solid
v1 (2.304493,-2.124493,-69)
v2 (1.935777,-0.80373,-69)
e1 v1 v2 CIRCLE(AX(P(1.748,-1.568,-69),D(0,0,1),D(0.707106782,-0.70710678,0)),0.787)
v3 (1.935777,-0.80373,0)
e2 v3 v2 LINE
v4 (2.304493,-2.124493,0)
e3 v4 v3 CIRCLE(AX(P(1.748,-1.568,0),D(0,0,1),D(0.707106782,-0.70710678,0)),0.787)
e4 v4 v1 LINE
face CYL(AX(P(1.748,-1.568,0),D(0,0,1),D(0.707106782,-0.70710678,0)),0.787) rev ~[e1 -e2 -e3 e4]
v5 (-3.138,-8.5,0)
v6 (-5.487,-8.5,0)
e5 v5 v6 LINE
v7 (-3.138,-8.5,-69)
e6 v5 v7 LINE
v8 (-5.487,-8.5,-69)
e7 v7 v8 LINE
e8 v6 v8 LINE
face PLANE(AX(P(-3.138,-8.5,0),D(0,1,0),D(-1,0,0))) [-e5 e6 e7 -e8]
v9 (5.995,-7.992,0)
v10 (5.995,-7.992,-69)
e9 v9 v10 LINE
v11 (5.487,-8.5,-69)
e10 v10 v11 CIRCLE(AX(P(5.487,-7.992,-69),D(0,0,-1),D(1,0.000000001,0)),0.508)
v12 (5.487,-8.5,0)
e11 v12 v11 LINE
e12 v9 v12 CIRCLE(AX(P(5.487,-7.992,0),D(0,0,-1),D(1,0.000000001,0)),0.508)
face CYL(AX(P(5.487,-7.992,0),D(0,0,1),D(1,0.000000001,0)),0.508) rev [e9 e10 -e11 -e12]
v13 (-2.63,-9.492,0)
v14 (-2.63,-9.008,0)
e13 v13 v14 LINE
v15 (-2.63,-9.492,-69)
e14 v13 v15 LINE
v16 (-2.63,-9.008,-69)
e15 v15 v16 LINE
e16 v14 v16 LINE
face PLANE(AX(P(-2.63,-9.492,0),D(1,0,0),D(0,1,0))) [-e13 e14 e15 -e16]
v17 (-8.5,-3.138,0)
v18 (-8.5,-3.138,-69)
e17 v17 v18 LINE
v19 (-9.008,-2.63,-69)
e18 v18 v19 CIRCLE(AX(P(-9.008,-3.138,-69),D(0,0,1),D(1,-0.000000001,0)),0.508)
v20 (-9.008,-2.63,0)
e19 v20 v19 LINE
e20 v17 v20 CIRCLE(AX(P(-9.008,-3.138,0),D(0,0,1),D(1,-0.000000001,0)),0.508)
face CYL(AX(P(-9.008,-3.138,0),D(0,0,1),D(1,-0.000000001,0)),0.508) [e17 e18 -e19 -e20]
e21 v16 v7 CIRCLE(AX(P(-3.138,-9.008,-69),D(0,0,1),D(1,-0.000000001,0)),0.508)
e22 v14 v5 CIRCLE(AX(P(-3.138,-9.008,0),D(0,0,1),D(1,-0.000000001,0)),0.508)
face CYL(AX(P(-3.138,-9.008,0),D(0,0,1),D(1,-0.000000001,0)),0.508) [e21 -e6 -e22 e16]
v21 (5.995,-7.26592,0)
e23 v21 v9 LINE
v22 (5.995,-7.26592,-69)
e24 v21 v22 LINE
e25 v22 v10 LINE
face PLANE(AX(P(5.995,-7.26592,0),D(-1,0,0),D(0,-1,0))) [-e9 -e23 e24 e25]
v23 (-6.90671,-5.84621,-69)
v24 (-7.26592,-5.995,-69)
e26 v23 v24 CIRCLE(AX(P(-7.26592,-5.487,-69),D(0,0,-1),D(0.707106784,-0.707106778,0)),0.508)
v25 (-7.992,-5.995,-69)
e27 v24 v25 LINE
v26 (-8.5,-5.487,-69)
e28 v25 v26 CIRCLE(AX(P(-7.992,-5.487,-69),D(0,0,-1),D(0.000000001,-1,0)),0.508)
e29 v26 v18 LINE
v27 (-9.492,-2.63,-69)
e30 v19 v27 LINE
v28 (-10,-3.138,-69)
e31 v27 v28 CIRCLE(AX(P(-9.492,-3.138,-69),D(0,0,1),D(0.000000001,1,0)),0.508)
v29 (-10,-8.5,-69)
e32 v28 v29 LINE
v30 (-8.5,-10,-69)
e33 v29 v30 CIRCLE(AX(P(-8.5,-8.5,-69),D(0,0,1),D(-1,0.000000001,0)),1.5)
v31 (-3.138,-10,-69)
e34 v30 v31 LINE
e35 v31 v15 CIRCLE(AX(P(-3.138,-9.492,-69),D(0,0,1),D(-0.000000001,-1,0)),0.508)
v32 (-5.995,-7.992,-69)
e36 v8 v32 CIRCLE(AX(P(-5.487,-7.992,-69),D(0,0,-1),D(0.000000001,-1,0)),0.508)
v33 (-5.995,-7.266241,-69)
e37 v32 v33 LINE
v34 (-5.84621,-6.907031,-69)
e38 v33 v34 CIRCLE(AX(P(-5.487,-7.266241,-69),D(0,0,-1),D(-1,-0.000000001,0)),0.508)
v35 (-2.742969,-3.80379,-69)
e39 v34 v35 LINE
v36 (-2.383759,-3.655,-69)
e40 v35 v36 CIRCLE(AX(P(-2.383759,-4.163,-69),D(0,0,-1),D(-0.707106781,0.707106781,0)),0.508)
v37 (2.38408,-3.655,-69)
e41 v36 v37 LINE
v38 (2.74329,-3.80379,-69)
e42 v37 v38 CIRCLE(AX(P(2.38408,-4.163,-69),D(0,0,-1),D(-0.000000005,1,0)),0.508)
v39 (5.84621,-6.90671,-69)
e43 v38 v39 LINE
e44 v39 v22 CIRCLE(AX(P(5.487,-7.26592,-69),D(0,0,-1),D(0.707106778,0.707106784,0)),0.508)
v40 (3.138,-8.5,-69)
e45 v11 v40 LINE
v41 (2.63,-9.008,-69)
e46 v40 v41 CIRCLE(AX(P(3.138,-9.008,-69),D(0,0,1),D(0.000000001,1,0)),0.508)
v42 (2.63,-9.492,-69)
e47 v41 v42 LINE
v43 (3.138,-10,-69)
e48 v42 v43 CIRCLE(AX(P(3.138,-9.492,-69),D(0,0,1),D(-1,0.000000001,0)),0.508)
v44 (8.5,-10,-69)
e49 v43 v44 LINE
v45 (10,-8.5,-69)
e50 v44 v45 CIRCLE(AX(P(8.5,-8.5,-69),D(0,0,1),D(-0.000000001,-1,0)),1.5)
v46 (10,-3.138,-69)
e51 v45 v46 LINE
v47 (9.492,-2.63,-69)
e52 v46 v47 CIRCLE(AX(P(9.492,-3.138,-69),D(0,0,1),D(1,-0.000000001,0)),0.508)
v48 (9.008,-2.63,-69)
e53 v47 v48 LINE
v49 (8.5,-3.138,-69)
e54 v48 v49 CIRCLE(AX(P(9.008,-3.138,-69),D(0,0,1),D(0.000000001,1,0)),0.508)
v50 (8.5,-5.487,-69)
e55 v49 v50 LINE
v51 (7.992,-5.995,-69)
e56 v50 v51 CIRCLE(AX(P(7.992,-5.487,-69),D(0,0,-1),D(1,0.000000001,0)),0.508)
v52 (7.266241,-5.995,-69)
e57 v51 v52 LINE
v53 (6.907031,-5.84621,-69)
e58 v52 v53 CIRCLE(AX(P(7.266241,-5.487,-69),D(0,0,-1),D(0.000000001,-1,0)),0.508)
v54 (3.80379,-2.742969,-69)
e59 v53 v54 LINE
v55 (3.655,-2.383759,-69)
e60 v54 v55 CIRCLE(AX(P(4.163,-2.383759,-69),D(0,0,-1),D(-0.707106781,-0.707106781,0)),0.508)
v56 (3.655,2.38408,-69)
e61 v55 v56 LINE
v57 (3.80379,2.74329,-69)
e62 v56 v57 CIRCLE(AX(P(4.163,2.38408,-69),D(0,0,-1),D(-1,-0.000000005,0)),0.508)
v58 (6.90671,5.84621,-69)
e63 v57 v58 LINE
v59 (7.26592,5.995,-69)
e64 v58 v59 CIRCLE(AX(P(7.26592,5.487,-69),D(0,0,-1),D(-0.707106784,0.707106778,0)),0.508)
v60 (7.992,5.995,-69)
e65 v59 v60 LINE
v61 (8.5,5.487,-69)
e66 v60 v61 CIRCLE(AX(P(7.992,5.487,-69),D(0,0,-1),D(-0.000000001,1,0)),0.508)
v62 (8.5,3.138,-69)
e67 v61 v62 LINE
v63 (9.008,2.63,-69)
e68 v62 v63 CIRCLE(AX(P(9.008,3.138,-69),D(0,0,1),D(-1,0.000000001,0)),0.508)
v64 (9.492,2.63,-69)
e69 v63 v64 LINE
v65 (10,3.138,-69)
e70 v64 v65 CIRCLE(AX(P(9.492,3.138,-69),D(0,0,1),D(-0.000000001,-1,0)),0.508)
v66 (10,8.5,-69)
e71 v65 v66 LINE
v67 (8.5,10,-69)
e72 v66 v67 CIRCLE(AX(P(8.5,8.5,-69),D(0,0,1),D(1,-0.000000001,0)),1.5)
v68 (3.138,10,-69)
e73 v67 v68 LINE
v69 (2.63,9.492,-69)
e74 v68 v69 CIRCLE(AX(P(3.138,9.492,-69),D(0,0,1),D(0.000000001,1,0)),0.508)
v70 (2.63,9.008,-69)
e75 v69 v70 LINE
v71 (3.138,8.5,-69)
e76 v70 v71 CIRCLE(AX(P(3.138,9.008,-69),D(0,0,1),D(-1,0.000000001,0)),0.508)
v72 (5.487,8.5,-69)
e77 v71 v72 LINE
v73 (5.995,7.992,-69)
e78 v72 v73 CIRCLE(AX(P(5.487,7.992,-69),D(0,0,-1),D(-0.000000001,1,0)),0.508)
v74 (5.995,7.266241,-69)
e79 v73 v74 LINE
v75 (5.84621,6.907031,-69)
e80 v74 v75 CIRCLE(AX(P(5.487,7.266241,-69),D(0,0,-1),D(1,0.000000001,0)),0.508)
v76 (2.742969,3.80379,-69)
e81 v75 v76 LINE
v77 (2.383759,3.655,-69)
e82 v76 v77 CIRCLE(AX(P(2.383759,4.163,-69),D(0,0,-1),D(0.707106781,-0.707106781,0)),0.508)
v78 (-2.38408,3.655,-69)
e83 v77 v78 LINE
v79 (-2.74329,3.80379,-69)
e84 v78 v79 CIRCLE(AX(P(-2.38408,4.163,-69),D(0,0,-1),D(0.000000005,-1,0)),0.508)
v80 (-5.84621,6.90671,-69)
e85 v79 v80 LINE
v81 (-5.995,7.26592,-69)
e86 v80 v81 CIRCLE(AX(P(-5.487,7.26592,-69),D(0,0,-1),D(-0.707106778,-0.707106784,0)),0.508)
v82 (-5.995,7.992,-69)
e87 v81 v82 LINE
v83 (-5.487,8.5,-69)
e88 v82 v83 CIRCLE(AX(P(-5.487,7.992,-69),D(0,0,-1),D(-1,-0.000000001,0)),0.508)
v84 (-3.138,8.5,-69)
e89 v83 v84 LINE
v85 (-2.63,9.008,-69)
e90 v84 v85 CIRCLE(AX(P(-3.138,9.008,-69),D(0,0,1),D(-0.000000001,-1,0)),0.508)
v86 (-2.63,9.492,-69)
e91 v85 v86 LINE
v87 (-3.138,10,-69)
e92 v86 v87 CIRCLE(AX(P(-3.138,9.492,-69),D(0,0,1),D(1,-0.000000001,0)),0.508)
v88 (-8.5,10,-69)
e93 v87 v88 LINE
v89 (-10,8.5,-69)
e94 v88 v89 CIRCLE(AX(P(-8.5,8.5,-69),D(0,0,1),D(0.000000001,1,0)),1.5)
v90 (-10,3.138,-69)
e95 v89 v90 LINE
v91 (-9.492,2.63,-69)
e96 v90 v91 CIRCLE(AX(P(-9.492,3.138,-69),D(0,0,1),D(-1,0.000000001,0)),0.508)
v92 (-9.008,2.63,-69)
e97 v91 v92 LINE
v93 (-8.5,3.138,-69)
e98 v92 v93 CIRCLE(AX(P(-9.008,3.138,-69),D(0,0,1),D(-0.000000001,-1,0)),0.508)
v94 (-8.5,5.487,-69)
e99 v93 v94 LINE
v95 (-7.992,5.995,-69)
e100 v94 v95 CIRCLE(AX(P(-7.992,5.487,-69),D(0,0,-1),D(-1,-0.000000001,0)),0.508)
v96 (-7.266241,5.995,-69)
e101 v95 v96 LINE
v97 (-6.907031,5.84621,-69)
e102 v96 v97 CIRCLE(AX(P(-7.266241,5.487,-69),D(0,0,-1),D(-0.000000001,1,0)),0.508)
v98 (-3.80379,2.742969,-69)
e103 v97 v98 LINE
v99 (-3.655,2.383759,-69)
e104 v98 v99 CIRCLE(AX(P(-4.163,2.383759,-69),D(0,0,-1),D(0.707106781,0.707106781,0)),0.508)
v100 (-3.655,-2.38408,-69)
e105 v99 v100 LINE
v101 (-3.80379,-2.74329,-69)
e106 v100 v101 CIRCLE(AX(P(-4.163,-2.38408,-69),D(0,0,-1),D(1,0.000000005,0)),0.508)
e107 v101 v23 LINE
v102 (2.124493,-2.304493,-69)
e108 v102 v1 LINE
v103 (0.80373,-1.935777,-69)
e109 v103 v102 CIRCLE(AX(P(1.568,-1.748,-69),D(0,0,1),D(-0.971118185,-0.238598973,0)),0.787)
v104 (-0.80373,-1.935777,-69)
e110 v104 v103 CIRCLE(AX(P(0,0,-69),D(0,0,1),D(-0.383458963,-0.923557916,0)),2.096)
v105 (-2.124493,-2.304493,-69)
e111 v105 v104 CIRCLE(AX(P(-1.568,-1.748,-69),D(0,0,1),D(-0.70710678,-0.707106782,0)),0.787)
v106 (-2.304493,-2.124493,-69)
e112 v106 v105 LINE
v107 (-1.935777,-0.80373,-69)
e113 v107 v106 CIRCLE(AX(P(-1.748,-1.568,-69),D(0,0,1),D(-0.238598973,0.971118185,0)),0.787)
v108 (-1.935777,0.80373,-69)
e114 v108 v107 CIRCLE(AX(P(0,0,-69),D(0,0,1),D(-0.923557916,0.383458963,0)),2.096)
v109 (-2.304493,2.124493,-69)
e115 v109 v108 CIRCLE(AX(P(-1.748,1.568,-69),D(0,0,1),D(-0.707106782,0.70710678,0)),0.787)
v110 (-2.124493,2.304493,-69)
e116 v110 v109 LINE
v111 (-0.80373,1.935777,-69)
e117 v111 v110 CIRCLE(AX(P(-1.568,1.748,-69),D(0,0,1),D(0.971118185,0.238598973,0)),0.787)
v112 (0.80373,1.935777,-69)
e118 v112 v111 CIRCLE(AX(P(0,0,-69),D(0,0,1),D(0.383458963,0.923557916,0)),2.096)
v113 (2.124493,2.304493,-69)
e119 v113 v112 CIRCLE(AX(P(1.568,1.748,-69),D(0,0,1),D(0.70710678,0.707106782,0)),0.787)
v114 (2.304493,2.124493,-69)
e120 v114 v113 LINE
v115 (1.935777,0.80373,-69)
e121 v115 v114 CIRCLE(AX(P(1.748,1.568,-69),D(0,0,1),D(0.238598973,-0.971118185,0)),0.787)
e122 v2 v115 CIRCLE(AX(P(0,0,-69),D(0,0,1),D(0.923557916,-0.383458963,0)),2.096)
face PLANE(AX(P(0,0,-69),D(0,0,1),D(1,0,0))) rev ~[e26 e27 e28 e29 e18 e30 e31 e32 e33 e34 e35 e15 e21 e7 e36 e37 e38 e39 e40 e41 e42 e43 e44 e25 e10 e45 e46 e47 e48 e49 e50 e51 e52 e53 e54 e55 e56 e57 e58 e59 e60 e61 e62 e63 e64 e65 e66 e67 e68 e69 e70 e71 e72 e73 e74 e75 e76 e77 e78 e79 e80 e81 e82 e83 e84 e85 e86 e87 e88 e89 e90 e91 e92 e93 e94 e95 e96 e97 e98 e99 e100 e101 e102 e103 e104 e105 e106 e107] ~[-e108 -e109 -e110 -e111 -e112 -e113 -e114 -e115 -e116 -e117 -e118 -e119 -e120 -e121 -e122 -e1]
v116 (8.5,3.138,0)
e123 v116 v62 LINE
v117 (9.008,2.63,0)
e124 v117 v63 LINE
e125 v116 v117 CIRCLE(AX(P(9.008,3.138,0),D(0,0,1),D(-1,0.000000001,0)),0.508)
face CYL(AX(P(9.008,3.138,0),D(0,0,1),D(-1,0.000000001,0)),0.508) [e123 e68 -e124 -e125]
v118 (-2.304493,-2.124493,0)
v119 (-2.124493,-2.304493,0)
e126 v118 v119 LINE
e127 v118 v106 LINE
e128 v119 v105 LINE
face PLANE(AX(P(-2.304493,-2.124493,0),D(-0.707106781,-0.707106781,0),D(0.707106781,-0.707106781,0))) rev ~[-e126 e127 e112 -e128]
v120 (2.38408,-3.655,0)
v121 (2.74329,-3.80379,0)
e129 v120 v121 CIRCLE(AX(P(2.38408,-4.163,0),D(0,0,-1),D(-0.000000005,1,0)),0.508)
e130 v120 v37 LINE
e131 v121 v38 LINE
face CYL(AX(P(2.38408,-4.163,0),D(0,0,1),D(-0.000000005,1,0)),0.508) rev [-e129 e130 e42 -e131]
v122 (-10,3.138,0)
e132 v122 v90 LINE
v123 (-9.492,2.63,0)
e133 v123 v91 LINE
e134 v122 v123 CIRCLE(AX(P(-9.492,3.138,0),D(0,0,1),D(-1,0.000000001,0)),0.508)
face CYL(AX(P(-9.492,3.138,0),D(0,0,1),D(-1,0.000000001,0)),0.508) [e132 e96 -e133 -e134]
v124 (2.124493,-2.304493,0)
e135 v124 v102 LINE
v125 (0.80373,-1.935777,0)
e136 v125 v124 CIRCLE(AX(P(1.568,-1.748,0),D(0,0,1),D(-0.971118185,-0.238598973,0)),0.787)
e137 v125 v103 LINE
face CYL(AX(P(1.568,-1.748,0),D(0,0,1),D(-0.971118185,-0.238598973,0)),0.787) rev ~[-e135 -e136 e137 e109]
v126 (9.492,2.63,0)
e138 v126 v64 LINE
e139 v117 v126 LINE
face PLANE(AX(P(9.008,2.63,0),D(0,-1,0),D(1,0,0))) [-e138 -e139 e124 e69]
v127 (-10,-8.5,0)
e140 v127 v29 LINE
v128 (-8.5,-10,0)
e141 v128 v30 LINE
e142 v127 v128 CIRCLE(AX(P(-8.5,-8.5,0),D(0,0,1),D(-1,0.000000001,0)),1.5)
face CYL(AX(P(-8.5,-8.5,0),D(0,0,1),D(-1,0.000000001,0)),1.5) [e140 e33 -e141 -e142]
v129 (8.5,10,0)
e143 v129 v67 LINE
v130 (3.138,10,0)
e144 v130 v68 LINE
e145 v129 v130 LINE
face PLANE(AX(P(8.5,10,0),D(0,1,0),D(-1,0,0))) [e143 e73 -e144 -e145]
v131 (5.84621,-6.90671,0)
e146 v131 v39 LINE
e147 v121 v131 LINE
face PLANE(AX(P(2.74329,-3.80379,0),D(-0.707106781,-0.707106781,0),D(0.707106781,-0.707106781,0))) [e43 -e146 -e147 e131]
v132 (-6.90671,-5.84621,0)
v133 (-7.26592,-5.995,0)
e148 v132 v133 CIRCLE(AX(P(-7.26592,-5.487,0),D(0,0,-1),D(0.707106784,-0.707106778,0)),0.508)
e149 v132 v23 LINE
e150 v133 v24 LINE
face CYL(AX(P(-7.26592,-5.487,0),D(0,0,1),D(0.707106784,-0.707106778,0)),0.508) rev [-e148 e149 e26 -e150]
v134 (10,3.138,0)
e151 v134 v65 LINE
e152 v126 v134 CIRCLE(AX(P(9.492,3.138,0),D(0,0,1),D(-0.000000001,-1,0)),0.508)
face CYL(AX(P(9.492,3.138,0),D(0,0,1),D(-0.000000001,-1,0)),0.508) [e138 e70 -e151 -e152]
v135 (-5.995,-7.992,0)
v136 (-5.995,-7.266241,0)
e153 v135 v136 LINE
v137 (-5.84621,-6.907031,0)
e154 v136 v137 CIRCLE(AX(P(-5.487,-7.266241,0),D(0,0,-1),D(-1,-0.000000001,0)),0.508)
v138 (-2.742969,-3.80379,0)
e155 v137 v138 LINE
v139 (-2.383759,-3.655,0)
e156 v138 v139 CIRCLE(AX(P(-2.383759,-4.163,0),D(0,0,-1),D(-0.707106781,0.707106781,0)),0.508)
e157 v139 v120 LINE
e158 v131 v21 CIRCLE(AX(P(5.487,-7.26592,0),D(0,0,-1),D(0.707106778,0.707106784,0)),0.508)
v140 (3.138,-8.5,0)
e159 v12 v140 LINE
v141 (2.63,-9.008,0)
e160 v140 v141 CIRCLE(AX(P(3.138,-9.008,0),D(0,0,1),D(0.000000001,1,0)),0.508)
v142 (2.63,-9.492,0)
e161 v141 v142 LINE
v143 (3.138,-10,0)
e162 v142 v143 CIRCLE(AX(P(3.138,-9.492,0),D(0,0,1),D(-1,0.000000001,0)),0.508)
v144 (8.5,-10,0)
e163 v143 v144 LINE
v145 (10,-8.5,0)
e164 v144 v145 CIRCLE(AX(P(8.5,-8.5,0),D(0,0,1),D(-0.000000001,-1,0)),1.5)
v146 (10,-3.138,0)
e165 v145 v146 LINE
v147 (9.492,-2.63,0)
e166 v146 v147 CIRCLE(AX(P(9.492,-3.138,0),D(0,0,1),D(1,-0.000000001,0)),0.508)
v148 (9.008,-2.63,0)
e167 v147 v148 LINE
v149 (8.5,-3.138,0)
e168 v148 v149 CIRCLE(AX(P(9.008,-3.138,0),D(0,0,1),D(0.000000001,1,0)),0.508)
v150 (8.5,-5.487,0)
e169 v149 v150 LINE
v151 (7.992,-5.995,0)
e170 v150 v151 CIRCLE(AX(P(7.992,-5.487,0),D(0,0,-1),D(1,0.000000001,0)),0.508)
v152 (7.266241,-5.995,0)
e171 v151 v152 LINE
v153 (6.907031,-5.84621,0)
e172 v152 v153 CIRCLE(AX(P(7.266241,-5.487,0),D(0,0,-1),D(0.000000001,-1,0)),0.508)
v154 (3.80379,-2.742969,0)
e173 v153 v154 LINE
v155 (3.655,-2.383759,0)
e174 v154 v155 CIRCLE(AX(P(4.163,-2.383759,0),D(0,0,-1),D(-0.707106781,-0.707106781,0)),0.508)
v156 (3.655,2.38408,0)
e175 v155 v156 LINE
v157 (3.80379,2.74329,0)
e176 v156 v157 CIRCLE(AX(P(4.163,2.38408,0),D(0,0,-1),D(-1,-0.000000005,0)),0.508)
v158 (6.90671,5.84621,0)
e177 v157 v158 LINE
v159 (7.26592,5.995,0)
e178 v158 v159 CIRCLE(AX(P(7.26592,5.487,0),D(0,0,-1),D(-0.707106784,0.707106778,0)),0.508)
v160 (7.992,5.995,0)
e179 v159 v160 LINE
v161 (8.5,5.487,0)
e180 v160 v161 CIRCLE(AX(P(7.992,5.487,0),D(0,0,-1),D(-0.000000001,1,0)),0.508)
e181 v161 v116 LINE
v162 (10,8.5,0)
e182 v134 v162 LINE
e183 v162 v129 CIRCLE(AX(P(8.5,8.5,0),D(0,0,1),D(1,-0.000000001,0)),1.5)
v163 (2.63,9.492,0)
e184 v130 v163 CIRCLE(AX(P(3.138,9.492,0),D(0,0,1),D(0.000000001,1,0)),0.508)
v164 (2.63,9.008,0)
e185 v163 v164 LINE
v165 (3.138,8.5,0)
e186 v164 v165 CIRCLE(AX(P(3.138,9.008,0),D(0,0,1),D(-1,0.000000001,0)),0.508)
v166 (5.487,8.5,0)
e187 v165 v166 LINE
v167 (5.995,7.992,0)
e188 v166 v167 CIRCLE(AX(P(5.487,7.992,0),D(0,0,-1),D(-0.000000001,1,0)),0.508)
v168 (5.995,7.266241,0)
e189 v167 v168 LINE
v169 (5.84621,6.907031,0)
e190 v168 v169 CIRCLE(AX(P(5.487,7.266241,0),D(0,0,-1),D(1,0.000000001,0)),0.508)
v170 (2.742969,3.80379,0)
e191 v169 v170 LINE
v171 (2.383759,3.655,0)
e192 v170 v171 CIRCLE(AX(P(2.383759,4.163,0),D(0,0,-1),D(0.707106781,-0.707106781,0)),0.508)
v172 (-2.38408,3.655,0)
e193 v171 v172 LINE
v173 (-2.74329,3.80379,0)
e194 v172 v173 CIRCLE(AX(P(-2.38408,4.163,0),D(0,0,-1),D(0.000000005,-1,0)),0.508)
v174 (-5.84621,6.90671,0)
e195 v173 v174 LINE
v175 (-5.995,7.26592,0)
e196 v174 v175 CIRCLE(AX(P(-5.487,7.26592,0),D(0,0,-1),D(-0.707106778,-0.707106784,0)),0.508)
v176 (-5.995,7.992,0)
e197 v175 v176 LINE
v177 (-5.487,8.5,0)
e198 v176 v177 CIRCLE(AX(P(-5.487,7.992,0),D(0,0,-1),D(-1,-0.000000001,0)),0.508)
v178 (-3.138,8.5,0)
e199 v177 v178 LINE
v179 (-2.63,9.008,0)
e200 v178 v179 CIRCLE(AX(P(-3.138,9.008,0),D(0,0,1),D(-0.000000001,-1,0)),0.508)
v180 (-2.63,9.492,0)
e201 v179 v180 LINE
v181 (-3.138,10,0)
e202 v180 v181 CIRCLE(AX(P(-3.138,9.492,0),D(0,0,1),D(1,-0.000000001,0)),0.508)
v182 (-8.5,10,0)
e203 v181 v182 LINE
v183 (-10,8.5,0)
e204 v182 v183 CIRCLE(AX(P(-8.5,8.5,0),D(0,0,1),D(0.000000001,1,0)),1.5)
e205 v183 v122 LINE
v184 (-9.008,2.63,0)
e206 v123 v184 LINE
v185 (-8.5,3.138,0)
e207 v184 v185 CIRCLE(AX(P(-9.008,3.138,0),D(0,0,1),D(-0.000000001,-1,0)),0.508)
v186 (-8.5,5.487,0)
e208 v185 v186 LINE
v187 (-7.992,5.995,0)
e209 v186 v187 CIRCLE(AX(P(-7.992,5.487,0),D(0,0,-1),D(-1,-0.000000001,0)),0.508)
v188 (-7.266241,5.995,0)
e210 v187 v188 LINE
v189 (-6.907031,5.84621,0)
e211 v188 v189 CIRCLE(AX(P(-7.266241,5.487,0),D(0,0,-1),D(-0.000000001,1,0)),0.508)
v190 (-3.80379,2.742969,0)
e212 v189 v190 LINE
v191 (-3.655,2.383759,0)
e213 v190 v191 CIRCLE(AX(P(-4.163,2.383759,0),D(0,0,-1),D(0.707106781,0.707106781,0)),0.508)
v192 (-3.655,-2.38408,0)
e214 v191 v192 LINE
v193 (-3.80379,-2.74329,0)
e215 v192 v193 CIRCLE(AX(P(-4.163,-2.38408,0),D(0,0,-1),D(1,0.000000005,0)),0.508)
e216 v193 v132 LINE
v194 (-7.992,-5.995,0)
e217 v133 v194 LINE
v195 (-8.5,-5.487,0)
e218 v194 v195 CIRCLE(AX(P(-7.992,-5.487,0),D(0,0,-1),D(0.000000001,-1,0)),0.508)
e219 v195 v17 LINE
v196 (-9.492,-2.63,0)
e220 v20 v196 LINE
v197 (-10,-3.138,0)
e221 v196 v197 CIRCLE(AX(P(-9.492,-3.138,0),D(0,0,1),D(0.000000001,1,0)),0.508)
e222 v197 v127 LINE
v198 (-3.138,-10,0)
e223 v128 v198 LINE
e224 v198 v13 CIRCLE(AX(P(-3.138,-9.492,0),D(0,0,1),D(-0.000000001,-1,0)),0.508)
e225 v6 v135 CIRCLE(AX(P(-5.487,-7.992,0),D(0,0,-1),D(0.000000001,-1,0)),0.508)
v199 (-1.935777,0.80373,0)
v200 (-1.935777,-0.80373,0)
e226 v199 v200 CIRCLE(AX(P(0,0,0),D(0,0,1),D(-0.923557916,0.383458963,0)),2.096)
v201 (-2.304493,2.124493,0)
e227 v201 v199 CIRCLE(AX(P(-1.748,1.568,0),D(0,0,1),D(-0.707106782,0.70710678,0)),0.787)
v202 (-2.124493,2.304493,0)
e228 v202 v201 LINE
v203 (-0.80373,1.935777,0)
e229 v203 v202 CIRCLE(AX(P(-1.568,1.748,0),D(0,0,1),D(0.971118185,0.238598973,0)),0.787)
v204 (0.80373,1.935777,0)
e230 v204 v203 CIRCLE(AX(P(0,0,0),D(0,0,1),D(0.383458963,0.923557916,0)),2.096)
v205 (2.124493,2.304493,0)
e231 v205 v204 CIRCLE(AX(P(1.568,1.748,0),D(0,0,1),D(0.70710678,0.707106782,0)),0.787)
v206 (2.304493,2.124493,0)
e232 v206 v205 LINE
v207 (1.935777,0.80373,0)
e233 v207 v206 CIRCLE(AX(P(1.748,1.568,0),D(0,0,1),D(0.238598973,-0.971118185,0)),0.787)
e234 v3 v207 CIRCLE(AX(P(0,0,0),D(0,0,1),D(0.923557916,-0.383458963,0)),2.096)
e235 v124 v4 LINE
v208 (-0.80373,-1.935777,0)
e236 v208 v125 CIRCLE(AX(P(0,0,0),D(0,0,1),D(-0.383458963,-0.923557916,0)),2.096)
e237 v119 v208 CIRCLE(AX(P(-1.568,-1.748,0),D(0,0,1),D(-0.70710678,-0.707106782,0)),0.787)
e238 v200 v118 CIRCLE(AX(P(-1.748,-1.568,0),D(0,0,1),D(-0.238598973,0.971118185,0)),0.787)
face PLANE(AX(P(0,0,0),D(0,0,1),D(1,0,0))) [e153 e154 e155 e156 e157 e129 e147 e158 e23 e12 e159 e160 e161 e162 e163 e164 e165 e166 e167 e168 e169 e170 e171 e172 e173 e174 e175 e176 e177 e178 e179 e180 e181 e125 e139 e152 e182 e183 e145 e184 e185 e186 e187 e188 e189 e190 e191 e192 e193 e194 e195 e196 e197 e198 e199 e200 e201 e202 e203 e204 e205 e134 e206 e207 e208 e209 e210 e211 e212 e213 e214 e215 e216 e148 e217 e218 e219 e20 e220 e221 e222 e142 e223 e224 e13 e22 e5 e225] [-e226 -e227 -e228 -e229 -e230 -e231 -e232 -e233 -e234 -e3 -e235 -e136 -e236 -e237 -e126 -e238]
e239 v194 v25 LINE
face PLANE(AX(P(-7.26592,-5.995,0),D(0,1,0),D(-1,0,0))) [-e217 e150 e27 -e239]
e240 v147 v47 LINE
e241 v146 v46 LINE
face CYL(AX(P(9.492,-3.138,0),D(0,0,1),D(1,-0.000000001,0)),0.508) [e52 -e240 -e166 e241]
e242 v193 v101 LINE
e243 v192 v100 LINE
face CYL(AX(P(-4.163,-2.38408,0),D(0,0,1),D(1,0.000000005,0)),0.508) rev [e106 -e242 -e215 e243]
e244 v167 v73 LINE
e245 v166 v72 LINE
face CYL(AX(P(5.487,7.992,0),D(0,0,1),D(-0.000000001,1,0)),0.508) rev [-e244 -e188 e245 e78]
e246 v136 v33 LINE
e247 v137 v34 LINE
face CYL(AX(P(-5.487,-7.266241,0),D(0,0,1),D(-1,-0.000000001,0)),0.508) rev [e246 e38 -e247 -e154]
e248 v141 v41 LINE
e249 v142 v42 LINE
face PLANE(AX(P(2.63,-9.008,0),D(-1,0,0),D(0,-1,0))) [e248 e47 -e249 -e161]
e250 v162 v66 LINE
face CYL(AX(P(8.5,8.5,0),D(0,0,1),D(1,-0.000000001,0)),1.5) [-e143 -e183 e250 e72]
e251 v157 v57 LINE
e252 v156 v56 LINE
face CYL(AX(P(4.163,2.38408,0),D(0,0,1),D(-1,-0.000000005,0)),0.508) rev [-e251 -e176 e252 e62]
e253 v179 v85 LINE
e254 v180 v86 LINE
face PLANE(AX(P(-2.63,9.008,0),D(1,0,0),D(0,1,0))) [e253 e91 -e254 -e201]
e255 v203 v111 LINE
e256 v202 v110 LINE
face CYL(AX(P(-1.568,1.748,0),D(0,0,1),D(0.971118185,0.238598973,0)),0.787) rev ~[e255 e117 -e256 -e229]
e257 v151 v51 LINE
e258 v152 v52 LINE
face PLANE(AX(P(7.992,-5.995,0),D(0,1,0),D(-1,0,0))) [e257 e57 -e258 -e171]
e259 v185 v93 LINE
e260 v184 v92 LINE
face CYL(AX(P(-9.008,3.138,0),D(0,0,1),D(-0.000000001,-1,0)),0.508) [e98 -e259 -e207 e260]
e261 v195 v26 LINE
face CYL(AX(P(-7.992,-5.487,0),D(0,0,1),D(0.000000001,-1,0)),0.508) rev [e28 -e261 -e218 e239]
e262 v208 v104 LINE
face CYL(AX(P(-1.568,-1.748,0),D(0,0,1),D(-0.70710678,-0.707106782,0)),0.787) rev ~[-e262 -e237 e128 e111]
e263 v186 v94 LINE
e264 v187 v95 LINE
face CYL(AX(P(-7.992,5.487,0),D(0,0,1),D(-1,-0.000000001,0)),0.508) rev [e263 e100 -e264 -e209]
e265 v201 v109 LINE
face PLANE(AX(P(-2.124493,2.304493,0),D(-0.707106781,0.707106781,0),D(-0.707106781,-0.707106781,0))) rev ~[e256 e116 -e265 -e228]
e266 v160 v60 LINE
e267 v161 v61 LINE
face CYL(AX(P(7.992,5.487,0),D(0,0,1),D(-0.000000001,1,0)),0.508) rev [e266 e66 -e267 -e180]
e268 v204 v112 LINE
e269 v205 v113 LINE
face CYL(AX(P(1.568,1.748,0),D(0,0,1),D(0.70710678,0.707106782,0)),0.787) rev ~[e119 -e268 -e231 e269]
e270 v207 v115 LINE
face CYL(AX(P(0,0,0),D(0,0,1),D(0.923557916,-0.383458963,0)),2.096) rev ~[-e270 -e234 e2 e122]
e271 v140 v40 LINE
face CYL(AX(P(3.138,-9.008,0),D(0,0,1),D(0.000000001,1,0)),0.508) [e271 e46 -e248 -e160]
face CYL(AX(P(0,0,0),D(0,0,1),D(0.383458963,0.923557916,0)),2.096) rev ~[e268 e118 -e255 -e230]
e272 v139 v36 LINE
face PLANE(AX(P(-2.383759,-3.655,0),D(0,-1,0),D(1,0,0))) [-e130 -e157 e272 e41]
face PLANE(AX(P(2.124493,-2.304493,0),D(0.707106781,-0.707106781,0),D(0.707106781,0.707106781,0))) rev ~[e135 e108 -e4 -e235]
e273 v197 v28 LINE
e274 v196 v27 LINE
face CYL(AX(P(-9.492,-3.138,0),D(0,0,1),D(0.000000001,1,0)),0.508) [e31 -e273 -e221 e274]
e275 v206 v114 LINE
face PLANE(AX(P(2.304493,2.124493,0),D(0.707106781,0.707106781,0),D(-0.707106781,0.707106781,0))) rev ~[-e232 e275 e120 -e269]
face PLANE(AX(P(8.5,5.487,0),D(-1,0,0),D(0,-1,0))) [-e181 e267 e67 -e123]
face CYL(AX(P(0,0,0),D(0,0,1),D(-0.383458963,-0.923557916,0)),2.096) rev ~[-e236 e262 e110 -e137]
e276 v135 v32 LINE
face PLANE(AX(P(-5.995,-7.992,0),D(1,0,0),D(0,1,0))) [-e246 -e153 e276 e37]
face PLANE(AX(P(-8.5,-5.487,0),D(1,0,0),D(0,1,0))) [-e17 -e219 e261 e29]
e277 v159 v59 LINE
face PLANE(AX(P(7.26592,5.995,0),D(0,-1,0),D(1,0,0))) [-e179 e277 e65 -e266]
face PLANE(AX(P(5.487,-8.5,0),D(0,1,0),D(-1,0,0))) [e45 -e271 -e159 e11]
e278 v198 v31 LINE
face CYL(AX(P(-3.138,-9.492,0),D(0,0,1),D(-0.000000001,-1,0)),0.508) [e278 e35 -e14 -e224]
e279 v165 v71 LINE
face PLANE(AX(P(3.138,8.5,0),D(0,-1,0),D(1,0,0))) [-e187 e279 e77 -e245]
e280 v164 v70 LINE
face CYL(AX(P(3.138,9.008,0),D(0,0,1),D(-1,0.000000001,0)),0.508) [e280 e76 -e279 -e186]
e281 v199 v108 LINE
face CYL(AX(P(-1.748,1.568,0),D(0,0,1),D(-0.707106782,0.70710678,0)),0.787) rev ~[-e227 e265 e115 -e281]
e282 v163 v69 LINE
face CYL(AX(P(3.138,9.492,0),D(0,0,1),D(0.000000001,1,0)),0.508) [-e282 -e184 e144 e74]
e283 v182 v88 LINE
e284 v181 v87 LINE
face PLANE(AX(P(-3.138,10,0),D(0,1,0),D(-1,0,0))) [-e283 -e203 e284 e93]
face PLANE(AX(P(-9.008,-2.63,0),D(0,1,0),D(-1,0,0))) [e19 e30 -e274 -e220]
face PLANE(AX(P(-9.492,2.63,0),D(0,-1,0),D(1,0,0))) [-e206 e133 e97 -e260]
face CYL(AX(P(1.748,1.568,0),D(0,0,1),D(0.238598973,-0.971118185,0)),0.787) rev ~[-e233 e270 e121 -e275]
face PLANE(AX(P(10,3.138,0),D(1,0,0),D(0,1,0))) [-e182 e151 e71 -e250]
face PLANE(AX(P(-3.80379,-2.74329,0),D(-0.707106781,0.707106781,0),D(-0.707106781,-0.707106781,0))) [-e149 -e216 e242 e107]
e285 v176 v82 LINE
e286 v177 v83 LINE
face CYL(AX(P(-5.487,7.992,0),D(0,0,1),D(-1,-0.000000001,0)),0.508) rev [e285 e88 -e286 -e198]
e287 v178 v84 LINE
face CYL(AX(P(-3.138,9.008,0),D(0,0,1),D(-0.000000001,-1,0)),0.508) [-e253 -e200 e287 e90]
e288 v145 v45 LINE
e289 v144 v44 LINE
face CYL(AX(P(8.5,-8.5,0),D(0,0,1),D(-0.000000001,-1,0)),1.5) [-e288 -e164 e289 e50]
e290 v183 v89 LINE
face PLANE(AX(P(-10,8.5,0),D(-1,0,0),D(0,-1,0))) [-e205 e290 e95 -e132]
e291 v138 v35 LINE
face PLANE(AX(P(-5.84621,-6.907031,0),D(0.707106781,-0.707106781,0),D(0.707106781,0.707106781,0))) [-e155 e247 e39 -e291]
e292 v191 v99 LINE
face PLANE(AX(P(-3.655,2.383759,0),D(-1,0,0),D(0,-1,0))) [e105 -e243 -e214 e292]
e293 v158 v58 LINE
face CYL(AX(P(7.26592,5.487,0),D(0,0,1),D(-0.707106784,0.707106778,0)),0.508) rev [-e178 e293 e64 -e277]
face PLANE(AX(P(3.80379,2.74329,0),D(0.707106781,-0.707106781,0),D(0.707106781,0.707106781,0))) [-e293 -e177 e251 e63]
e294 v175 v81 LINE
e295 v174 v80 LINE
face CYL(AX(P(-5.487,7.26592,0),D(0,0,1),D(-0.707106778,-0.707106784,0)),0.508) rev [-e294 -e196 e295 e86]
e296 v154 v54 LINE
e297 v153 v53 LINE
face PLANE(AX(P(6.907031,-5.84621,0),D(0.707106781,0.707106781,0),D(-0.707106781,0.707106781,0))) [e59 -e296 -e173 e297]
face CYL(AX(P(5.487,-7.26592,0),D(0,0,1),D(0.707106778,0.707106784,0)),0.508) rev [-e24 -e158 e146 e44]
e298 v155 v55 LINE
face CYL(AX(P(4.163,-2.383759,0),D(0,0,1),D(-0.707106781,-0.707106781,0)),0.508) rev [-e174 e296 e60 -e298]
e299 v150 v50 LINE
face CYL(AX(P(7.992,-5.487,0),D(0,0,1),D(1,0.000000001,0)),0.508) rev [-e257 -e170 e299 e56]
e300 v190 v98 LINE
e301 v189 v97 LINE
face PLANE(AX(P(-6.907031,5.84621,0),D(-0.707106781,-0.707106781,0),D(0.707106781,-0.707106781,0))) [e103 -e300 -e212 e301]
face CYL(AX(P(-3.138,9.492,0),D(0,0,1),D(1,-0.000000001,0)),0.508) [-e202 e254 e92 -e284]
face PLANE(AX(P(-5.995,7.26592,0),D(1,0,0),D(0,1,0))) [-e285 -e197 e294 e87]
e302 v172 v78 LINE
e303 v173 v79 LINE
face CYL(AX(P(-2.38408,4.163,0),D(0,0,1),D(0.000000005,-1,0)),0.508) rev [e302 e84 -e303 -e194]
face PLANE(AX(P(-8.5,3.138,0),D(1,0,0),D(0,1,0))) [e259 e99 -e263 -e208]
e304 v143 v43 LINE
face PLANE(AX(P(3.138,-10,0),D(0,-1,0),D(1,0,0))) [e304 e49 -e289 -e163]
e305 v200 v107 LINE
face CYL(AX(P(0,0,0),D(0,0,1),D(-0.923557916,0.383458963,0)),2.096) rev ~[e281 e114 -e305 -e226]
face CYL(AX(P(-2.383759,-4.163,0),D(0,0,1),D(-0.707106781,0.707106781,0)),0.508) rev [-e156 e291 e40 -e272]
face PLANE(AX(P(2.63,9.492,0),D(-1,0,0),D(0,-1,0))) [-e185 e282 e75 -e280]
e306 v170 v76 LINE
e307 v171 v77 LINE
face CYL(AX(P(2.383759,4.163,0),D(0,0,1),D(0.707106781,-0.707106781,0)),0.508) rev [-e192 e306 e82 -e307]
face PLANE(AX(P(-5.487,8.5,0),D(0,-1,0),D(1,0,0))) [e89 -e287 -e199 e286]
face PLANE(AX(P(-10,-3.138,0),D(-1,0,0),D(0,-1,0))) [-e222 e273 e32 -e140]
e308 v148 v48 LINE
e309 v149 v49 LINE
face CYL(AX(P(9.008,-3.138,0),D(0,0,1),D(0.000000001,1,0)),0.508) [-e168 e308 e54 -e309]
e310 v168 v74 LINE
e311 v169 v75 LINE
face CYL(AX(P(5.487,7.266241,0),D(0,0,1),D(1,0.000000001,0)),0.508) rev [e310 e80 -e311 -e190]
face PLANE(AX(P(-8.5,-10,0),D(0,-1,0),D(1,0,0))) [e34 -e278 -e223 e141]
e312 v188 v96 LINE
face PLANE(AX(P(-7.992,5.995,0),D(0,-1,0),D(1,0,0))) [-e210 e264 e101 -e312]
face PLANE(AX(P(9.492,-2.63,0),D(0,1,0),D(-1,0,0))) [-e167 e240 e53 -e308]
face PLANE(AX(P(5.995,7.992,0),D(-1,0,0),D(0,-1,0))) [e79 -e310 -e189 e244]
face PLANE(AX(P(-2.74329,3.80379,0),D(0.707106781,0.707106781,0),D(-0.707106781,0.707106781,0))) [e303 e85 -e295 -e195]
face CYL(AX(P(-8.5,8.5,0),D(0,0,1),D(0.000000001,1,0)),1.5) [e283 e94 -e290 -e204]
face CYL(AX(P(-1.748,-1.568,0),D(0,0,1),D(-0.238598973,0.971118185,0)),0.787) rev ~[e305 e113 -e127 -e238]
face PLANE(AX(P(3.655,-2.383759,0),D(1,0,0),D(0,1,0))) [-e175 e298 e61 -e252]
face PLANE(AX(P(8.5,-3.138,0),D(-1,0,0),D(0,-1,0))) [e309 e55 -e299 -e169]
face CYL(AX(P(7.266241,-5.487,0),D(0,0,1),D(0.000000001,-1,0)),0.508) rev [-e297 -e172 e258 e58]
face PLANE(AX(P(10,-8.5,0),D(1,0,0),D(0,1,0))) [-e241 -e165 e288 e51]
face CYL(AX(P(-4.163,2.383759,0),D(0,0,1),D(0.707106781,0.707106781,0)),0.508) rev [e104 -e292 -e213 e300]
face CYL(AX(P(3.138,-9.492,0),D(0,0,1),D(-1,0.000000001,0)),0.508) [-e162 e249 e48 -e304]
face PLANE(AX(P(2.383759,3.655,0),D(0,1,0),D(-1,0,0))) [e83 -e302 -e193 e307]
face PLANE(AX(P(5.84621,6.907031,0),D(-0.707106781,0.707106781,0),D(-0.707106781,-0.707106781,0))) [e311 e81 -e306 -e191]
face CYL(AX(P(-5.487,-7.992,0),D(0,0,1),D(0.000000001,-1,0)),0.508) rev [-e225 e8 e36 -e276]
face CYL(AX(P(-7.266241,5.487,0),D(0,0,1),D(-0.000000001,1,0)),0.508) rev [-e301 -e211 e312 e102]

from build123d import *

# Parameters (mm, degrees)
BOSS_EXTRUDE1_DEPTH = 69


with BuildPart() as part:
    # Sketch2 → Boss-Extrude1 (new body)
    with BuildSketch(Plane.XY):
        with BuildLine():
            Line((-10, -3.138), (-10, -8.5))
            ThreePointArc((-10, -8.5), (-9.560660172, -9.560660172), (-8.5, -10))
            Line((-8.5, -10), (-3.138, -10))
            ThreePointArc((-3.138, -10), (-2.778789755, -9.851210245), (-2.63, -9.492))
            Line((-2.63, -9.492), (-2.63, -9.008))
            ThreePointArc((-2.63, -9.008), (-2.778789755, -8.648789755), (-3.138, -8.5))
            Line((-3.138, -8.5), (-5.487, -8.5))
            ThreePointArc((-5.487, -8.5), (-5.846210245, -8.351210245), (-5.995, -7.992))
            Line((-5.995, -7.992), (-5.995, -7.266240833))
            ThreePointArc((-5.995, -7.266240833), (-5.956330803, -7.07183765), (-5.846210245, -6.907030588))
            Line((-5.846210245, -6.907030588), (-2.742969412, -3.803789755))
            ThreePointArc((-2.742969412, -3.803789755), (-2.57816235, -3.693669197), (-2.383759167, -3.655))
            Line((-2.383759167, -3.655), (2.38407951, -3.655))
            ThreePointArc((2.38407951, -3.655), (2.578482694, -3.693669197), (2.743289755, -3.803789755))
            Line((2.743289755, -3.803789755), (5.846210245, -6.906710245))
            ThreePointArc((5.846210245, -6.906710245), (5.956330803, -7.071517306), (5.995, -7.26592049))
            Line((5.995, -7.26592049), (5.995, -7.992))
            ThreePointArc((5.995, -7.992), (5.846210245, -8.351210245), (5.487, -8.5))
            Line((5.487, -8.5), (3.138, -8.5))
            ThreePointArc((3.138, -8.5), (2.778789755, -8.648789755), (2.63, -9.008))
            Line((2.63, -9.008), (2.63, -9.492))
            ThreePointArc((2.63, -9.492), (2.778789755, -9.851210245), (3.138, -10))
            Line((3.138, -10), (8.5, -10))
            ThreePointArc((8.5, -10), (9.560660172, -9.560660172), (10, -8.5))
            Line((10, -8.5), (10, -3.138))
            ThreePointArc((10, -3.138), (9.851210245, -2.778789755), (9.492, -2.63))
            Line((9.492, -2.63), (9.008, -2.63))
            ThreePointArc((9.008, -2.63), (8.648789755, -2.778789755), (8.5, -3.138))
            Line((8.5, -3.138), (8.5, -5.487))
            ThreePointArc((8.5, -5.487), (8.351210245, -5.846210245), (7.992, -5.995))
            Line((7.992, -5.995), (7.266240833, -5.995))
            ThreePointArc((7.266240833, -5.995), (7.07183765, -5.956330803), (6.907030588, -5.846210245))
            Line((6.907030588, -5.846210245), (3.803789755, -2.742969412))
            ThreePointArc((3.803789755, -2.742969412), (3.693669197, -2.57816235), (3.655, -2.383759167))
            Line((3.655, -2.383759167), (3.655, 2.38407951))
            ThreePointArc((3.655, 2.38407951), (3.693669197, 2.578482694), (3.803789755, 2.743289755))
            Line((3.803789755, 2.743289755), (6.906710245, 5.846210245))
            ThreePointArc((6.906710245, 5.846210245), (7.071517306, 5.956330803), (7.26592049, 5.995))
            Line((7.26592049, 5.995), (7.992, 5.995))
            ThreePointArc((7.992, 5.995), (8.351210245, 5.846210245), (8.5, 5.487))
            Line((8.5, 5.487), (8.5, 3.138))
            ThreePointArc((8.5, 3.138), (8.648789755, 2.778789755), (9.008, 2.63))
            Line((9.008, 2.63), (9.492, 2.63))
            ThreePointArc((9.492, 2.63), (9.851210245, 2.778789755), (10, 3.138))
            Line((10, 3.138), (10, 8.5))
            ThreePointArc((10, 8.5), (9.560660172, 9.560660172), (8.5, 10))
            Line((8.5, 10), (3.138, 10))
            ThreePointArc((3.138, 10), (2.778789755, 9.851210245), (2.63, 9.492))
            Line((2.63, 9.492), (2.63, 9.008))
            ThreePointArc((2.63, 9.008), (2.778789755, 8.648789755), (3.138, 8.5))
            Line((3.138, 8.5), (5.487, 8.5))
            ThreePointArc((5.487, 8.5), (5.846210245, 8.351210245), (5.995, 7.992))
            Line((5.995, 7.992), (5.995, 7.266240833))
            ThreePointArc((5.995, 7.266240833), (5.956330803, 7.07183765), (5.846210245, 6.907030588))
            Line((5.846210245, 6.907030588), (2.742969412, 3.803789755))
            ThreePointArc((2.742969412, 3.803789755), (2.57816235, 3.693669197), (2.383759167, 3.655))
            Line((2.383759167, 3.655), (-2.38407951, 3.655))
            ThreePointArc((-2.38407951, 3.655), (-2.578482694, 3.693669197), (-2.743289755, 3.803789755))
            Line((-2.743289755, 3.803789755), (-5.846210245, 6.906710245))
            ThreePointArc((-5.846210245, 6.906710245), (-5.956330803, 7.071517306), (-5.995, 7.26592049))
            Line((-5.995, 7.26592049), (-5.995, 7.992))
            ThreePointArc((-5.995, 7.992), (-5.846210245, 8.351210245), (-5.487, 8.5))
            Line((-5.487, 8.5), (-3.138, 8.5))
            ThreePointArc((-3.138, 8.5), (-2.778789755, 8.648789755), (-2.63, 9.008))
            Line((-2.63, 9.008), (-2.63, 9.492))
            ThreePointArc((-2.63, 9.492), (-2.778789755, 9.851210245), (-3.138, 10))
            Line((-3.138, 10), (-8.5, 10))
            ThreePointArc((-8.5, 10), (-9.560660172, 9.560660172), (-10, 8.5))
            Line((-10, 8.5), (-10, 3.138))
            ThreePointArc((-10, 3.138), (-9.851210245, 2.778789755), (-9.492, 2.63))
            Line((-9.492, 2.63), (-9.008, 2.63))
            ThreePointArc((-9.008, 2.63), (-8.648789755, 2.778789755), (-8.5, 3.138))
            Line((-8.5, 3.138), (-8.5, 5.487))
            ThreePointArc((-8.5, 5.487), (-8.351210245, 5.846210245), (-7.992, 5.995))
            Line((-7.992, 5.995), (-7.266240833, 5.995))
            ThreePointArc((-7.266240833, 5.995), (-7.07183765, 5.956330803), (-6.907030588, 5.846210245))
            Line((-6.907030588, 5.846210245), (-3.803789755, 2.742969412))
            ThreePointArc((-3.803789755, 2.742969412), (-3.693669197, 2.57816235), (-3.655, 2.383759167))
            Line((-3.655, 2.383759167), (-3.655, -2.38407951))
            ThreePointArc((-3.655, -2.38407951), (-3.693669197, -2.578482694), (-3.803789755, -2.743289755))
            Line((-3.803789755, -2.743289755), (-6.906710245, -5.846210245))
            ThreePointArc((-6.906710245, -5.846210245), (-7.071517306, -5.956330803), (-7.26592049, -5.995))
            Line((-7.26592049, -5.995), (-7.992, -5.995))
            ThreePointArc((-7.992, -5.995), (-8.351210245, -5.846210245), (-8.5, -5.487))
            Line((-8.5, -5.487), (-8.5, -3.138))
            ThreePointArc((-8.5, -3.138), (-8.648789755, -2.778789755), (-9.008, -2.63))
            Line((-9.008, -2.63), (-9.492, -2.63))
            ThreePointArc((-9.492, -2.63), (-9.851210245, -2.778789755), (-10, -3.138))
        make_face()
        with BuildLine():
            Line((-2.124493037, 2.304493037), (-2.304493037, 2.124493037))
            ThreePointArc((-2.304493037, 2.124493037), (-2.506016078, 1.35638567), (-1.935777391, 0.803729988))
            ThreePointArc((-1.935777391, 0.803729988), (-2.096, 0), (-1.935777391, -0.803729988))
            ThreePointArc((-1.935777391, -0.803729988), (-2.506016078, -1.35638567), (-2.304493037, -2.124493037))
            Line((-2.304493037, -2.124493037), (-2.124493037, -2.304493037))
            ThreePointArc((-2.124493037, -2.304493037), (-1.35638567, -2.506016078), (-0.803729988, -1.935777391))
            ThreePointArc((-0.803729988, -1.935777391), (0, -2.096), (0.803729988, -1.935777391))
            ThreePointArc((0.803729988, -1.935777391), (1.35638567, -2.506016078), (2.124493037, -2.304493037))
            Line((2.124493037, -2.304493037), (2.304493037, -2.124493037))
            ThreePointArc((2.304493037, -2.124493037), (2.506016078, -1.35638567), (1.935777391, -0.803729988))
            ThreePointArc((1.935777391, -0.803729988), (2.096, 0), (1.935777391, 0.803729988))
            ThreePointArc((1.935777391, 0.803729988), (2.506016078, 1.35638567), (2.304493037, 2.124493037))
            Line((2.304493037, 2.124493037), (2.124493037, 2.304493037))
            ThreePointArc((2.124493037, 2.304493037), (1.35638567, 2.506016078), (0.803729988, 1.935777391))
            ThreePointArc((0.803729988, 1.935777391), (0, 2.096), (-0.803729988, 1.935777391))
            ThreePointArc((-0.803729988, 1.935777391), (-1.35638567, 2.506016078), (-2.124493037, 2.304493037))
        make_face(mode=Mode.SUBTRACT)
    extrude(amount=-BOSS_EXTRUDE1_DEPTH)


solid = part.part
